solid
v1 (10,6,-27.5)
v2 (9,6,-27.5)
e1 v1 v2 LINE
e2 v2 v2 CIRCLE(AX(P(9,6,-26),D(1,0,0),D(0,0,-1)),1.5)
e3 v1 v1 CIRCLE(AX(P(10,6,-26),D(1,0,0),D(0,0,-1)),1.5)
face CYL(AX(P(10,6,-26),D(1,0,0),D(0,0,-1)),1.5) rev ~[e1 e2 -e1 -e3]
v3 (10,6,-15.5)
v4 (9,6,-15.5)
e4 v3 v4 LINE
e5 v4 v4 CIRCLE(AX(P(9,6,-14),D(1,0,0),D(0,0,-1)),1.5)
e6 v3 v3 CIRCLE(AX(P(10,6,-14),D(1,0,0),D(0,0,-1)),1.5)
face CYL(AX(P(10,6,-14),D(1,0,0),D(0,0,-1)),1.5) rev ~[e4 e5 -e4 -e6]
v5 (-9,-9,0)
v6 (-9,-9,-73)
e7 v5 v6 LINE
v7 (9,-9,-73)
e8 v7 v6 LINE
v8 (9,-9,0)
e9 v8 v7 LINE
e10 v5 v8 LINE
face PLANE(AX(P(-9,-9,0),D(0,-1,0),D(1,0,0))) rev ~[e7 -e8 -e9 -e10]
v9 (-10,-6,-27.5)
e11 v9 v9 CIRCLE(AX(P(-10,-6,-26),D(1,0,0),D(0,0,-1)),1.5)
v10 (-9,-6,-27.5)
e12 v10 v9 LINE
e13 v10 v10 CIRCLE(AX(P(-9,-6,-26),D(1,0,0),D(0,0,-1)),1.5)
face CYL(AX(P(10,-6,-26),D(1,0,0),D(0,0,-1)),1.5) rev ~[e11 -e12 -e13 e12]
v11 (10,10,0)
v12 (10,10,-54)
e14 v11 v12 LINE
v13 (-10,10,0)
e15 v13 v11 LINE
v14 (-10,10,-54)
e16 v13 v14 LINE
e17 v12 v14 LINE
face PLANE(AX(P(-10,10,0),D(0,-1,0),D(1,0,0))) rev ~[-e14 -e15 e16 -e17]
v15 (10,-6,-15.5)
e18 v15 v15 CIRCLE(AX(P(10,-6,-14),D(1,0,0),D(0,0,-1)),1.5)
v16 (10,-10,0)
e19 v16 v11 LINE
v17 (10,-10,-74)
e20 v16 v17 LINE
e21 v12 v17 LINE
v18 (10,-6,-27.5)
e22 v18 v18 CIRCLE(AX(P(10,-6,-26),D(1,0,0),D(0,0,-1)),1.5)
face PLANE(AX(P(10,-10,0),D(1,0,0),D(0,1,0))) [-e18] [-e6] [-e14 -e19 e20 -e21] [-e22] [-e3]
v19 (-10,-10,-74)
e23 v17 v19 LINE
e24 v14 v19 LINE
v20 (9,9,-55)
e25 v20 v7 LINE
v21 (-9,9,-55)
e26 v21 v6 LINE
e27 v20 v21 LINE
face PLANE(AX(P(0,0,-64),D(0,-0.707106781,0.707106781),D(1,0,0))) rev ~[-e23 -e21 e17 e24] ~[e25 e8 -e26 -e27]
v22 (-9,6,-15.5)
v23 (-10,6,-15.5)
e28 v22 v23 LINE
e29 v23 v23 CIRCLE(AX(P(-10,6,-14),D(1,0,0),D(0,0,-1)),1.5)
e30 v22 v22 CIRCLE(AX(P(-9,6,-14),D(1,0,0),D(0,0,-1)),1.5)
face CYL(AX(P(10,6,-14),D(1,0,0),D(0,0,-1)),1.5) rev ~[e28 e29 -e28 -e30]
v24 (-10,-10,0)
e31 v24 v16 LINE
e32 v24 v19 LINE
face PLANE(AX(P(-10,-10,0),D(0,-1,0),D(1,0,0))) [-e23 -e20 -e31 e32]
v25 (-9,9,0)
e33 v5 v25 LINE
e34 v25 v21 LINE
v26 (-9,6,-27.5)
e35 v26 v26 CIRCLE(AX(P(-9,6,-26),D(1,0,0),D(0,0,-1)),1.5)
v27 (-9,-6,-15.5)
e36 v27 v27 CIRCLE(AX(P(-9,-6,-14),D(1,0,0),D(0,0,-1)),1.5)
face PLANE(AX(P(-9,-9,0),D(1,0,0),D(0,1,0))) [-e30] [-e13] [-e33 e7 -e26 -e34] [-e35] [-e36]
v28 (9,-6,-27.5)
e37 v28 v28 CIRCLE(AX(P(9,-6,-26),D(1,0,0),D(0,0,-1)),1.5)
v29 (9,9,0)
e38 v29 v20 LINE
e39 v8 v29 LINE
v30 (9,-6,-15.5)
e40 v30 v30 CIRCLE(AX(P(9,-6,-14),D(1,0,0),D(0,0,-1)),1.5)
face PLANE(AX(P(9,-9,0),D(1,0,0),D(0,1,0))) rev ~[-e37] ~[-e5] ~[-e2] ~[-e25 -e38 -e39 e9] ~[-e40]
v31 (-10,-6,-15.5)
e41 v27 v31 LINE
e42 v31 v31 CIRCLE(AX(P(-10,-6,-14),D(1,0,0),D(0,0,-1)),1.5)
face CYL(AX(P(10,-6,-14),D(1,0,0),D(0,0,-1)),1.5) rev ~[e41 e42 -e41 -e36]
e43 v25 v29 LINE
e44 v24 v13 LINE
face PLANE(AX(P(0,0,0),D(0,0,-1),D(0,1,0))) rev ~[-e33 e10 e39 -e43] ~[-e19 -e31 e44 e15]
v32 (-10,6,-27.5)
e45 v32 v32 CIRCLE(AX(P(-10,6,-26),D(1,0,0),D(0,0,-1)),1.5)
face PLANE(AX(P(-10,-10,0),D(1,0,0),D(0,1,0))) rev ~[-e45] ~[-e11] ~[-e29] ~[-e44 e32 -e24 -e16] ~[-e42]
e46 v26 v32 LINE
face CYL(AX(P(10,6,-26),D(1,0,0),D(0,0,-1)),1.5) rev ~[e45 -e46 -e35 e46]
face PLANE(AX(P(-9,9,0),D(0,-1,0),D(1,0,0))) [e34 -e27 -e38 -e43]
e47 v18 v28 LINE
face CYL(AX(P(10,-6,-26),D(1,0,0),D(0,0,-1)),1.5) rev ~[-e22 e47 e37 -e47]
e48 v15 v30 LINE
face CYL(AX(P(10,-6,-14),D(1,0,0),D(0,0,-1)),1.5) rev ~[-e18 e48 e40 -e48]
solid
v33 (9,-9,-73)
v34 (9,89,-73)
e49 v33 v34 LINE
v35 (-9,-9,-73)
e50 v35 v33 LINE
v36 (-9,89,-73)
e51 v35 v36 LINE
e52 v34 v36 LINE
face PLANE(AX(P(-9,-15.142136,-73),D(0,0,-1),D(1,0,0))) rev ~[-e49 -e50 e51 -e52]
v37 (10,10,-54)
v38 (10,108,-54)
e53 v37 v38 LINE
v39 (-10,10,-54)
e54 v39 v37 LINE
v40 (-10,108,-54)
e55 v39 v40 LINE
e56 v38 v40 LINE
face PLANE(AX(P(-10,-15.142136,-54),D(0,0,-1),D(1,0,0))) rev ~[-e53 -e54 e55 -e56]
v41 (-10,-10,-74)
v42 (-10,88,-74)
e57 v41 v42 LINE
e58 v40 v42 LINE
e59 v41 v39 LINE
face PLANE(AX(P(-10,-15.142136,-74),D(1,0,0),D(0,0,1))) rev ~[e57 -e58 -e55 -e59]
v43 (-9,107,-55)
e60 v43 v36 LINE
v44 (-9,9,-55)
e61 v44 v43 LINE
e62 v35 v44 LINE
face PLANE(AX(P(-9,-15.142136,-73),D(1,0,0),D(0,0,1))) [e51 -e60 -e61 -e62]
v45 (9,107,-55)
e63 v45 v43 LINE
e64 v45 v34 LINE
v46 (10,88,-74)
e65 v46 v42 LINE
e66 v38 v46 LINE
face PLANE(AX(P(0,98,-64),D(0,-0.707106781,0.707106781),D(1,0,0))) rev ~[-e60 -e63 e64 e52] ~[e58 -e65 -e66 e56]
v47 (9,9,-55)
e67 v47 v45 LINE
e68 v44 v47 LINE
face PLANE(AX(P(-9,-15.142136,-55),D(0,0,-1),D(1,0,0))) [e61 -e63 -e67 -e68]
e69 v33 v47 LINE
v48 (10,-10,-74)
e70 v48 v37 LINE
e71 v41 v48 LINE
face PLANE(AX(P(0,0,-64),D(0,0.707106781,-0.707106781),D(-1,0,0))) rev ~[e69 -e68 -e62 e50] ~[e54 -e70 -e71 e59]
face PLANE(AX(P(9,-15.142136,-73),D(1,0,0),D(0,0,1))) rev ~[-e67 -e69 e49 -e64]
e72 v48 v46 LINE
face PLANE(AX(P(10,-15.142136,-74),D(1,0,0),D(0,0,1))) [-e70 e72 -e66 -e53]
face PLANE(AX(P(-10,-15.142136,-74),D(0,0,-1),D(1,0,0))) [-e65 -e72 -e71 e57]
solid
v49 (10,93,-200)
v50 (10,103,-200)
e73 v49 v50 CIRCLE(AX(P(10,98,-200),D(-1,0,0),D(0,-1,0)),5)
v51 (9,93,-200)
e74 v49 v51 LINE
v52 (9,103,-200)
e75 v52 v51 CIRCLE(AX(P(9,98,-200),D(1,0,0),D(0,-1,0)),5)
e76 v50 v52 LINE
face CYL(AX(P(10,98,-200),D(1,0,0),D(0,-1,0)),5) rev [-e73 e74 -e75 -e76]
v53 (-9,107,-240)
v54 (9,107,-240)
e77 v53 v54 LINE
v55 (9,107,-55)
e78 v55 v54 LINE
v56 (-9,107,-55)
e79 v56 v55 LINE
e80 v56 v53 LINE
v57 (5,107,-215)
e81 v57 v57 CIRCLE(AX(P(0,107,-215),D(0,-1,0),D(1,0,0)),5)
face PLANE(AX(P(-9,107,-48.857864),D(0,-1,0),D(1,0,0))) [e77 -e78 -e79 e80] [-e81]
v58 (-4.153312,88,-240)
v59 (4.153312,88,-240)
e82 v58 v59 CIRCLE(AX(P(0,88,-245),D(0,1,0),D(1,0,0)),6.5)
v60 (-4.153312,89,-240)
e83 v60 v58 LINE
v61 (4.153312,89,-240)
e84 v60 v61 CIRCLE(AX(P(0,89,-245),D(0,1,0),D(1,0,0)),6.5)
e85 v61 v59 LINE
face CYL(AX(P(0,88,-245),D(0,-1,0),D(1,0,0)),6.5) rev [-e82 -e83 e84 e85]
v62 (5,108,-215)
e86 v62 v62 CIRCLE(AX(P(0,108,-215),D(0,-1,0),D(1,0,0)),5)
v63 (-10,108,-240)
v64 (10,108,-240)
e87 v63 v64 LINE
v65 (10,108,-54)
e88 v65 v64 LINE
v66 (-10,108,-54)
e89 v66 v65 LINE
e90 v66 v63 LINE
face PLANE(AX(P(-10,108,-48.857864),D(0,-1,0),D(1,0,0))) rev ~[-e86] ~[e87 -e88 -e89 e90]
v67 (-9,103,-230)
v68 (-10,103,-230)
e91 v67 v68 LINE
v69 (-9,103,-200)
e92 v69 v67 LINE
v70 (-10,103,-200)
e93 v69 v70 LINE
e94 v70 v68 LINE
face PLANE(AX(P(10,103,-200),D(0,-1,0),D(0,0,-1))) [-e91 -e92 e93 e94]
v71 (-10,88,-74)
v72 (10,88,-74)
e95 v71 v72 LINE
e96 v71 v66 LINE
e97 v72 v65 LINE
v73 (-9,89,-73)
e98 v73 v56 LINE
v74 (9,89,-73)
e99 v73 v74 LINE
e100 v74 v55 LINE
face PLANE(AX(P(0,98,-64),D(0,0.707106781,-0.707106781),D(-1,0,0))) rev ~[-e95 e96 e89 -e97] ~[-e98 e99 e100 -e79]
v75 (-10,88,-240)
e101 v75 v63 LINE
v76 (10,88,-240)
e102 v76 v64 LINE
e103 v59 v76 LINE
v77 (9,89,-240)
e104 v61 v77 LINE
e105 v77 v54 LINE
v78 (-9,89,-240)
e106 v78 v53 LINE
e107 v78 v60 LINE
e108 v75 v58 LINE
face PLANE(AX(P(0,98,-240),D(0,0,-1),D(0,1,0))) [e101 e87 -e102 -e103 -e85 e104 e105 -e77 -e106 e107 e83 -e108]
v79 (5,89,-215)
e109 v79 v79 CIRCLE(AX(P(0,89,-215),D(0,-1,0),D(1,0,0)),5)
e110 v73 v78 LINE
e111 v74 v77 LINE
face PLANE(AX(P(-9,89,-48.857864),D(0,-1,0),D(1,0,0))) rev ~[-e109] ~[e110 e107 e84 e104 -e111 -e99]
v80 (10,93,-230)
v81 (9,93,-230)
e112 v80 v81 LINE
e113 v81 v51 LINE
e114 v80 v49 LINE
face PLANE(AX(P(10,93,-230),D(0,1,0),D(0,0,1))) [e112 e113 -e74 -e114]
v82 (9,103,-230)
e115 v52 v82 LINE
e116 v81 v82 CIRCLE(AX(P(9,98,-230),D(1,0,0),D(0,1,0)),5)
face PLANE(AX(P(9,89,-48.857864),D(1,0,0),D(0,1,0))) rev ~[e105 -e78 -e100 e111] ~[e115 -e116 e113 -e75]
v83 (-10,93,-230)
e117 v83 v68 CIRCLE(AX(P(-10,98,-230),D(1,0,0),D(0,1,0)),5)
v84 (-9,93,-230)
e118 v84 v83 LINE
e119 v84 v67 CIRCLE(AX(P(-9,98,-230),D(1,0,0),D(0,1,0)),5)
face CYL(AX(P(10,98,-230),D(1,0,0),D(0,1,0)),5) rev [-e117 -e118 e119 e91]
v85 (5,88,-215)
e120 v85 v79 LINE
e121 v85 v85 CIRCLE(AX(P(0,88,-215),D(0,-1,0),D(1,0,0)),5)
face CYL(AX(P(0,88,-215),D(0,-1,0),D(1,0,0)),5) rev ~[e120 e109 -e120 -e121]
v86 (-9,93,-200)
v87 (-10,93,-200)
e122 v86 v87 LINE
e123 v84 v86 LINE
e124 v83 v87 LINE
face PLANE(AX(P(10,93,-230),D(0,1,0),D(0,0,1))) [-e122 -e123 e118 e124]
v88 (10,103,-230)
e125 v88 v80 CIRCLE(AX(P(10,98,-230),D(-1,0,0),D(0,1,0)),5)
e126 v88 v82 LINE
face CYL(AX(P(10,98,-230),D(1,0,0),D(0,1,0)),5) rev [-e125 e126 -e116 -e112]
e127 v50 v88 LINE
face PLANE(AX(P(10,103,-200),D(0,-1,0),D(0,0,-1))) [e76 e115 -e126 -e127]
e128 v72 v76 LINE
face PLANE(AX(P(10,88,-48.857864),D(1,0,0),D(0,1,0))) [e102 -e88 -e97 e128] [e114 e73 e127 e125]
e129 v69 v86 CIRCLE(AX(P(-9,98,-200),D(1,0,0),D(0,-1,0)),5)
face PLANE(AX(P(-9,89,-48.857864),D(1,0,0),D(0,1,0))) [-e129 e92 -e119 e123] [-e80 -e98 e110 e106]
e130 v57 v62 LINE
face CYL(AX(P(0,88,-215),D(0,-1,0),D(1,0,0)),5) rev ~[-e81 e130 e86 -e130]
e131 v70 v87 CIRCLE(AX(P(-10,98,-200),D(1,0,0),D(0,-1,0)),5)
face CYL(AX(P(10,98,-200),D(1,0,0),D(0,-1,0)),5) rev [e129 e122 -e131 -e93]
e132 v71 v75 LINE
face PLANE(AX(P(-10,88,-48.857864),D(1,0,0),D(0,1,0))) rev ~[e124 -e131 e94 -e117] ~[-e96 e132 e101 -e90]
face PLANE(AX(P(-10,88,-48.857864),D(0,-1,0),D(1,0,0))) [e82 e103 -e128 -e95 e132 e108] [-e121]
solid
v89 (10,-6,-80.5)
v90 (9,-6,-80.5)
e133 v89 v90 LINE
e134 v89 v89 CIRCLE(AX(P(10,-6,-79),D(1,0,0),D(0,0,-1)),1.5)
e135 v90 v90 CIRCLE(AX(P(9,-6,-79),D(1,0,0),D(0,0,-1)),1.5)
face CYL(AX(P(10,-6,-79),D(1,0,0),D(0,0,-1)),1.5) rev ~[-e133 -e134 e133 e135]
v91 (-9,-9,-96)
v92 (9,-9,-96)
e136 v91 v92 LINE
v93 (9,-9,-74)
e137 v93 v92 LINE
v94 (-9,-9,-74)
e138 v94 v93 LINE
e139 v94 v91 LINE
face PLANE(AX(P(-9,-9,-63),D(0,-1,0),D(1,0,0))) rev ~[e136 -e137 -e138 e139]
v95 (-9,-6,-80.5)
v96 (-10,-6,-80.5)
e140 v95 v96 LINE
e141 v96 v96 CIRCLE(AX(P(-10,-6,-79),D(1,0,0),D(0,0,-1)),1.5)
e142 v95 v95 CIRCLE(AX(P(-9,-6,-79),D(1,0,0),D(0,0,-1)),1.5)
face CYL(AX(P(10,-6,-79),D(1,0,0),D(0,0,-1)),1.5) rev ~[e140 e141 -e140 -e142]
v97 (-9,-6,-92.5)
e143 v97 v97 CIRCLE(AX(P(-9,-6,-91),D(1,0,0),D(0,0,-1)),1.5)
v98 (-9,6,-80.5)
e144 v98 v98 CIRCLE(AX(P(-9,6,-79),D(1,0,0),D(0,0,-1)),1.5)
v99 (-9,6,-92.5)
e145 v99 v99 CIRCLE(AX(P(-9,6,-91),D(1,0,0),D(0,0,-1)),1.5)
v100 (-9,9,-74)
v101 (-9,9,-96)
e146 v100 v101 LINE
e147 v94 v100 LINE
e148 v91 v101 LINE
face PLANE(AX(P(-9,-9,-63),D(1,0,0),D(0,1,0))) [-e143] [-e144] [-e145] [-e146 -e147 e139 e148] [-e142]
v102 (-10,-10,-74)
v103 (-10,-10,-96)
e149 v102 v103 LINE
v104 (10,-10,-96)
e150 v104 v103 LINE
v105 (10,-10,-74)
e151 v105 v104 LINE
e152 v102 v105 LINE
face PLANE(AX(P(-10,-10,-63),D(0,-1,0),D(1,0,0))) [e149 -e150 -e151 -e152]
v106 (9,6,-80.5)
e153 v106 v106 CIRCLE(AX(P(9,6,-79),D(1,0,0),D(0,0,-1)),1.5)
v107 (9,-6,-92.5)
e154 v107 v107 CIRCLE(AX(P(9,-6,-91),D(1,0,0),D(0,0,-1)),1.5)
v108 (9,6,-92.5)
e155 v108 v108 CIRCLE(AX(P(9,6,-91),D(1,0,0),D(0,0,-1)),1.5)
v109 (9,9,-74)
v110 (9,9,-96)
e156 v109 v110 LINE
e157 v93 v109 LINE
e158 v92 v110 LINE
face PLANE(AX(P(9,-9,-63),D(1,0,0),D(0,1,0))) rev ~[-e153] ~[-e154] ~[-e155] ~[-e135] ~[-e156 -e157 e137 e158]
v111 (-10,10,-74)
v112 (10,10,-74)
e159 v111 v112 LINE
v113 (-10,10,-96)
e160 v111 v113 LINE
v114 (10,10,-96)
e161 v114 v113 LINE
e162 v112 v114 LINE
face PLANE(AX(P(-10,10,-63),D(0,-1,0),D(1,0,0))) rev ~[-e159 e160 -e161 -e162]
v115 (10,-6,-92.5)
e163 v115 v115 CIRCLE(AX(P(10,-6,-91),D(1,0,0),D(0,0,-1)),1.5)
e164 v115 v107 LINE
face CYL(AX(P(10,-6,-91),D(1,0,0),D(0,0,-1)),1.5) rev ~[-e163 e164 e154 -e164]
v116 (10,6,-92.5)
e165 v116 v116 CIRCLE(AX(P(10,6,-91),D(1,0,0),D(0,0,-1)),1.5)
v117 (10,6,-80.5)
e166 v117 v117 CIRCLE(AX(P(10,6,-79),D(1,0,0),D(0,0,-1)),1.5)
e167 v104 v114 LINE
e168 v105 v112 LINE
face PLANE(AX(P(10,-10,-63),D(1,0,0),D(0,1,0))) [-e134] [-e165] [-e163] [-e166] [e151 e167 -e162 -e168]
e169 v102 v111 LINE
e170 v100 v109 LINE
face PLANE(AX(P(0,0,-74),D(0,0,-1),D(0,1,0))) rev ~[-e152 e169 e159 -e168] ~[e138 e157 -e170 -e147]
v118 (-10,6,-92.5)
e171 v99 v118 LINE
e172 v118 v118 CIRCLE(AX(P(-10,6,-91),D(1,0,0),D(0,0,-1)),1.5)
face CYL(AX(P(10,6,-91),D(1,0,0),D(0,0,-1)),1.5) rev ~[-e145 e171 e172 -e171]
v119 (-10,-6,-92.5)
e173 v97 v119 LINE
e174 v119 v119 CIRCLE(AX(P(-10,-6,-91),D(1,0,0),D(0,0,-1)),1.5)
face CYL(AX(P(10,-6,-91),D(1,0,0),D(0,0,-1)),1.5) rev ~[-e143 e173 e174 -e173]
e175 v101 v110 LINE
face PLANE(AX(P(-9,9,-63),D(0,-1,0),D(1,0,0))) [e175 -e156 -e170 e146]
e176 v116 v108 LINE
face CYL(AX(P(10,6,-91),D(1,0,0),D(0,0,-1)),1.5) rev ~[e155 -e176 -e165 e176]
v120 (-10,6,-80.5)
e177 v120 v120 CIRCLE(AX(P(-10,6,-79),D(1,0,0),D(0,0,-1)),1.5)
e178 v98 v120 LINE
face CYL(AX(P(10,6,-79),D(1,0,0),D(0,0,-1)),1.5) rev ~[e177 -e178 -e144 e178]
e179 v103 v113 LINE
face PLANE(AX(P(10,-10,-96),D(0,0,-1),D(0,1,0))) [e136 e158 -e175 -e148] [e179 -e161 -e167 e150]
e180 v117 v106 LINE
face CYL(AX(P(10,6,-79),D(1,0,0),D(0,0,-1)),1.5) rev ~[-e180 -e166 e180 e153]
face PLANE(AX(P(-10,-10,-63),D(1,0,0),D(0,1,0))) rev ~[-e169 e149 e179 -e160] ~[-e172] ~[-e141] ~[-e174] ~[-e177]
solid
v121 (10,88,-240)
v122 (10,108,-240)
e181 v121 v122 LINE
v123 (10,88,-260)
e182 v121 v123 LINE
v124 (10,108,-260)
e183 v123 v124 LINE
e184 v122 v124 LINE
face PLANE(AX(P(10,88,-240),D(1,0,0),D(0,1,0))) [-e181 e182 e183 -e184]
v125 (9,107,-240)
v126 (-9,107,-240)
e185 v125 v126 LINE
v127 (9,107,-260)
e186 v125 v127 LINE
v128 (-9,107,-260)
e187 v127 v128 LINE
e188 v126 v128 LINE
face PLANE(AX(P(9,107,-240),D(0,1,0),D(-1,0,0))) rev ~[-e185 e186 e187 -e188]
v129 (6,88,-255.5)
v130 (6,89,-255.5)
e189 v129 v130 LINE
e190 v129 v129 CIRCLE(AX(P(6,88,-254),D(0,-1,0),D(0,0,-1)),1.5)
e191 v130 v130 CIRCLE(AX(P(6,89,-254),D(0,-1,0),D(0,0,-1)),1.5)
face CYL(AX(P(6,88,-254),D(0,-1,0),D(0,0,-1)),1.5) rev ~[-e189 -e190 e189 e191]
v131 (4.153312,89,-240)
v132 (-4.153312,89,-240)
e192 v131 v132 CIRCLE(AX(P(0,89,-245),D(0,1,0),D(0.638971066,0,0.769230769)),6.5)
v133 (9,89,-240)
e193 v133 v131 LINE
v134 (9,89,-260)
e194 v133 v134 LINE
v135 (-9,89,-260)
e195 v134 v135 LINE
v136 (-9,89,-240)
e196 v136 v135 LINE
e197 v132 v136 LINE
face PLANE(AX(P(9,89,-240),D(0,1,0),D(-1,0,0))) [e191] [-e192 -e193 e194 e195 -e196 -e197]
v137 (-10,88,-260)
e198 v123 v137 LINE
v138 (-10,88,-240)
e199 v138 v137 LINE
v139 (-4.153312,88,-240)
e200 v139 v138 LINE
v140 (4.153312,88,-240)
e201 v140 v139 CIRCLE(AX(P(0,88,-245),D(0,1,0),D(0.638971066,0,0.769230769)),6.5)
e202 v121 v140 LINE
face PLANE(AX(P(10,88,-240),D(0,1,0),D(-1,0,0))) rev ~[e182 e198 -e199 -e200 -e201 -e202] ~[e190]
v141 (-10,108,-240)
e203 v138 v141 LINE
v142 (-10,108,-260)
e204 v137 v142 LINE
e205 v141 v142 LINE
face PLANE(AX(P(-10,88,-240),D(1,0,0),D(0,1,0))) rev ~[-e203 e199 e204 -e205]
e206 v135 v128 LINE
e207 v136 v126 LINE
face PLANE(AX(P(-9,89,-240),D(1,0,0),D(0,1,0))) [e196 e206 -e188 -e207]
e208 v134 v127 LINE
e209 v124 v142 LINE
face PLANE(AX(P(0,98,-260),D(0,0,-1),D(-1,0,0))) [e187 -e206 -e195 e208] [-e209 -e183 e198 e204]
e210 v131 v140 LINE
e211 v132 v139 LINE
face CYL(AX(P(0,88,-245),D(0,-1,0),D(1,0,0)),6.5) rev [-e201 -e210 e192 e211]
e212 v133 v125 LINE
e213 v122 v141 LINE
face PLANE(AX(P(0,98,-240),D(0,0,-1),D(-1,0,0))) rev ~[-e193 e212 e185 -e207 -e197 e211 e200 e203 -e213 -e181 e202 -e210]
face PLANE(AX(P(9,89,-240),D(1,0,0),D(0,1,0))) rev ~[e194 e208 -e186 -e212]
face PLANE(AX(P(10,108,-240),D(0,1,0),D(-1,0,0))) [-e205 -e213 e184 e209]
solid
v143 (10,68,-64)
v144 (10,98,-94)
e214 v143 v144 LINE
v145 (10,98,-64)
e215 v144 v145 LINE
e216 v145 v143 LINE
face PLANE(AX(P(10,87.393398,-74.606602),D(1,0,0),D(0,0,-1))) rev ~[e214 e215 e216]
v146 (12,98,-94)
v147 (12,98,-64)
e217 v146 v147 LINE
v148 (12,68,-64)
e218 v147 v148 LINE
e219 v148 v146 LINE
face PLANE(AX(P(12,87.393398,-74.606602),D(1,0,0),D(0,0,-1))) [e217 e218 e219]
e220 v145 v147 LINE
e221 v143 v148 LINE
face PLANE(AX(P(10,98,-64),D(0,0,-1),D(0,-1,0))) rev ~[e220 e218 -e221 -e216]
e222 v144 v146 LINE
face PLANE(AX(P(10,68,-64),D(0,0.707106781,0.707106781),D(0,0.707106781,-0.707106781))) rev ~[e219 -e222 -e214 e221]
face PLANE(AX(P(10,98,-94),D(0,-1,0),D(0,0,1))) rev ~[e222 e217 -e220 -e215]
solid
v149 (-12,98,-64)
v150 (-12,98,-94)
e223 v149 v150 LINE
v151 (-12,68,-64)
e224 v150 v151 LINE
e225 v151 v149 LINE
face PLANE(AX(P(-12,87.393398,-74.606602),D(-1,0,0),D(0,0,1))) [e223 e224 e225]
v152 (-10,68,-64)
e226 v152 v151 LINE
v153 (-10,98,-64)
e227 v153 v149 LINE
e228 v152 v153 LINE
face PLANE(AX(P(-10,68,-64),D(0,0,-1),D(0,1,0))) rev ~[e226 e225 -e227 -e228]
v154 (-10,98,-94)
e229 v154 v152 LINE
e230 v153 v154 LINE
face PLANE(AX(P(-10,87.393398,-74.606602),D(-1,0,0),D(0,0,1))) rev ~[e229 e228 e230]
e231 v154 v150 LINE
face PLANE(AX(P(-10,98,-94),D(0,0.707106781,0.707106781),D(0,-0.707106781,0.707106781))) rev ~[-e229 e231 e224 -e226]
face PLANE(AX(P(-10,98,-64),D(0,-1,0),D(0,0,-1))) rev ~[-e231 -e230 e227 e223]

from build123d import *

# Parameters (mm, degrees)
SKETCH_14_W                = 20
SKETCH_14_H                = 20
SKETCH_14_W_2              = 18
SKETCH_14_H_2              = 18
F_20X20X1_1_DEPTH          = 79.142135624
SKETCH_14_ON_SEGMENT_2_W   = 20
SKETCH_14_ON_SEGMENT_2_H   = 20
SKETCH_14_ON_SEGMENT_2_W_2 = 18
SKETCH_14_ON_SEGMENT_2_H_2 = 18
F_20X20X1_1_2_DEPTH        = 128.284271247
SKETCH_14_ON_SEGMENT_3_W   = 20
SKETCH_14_ON_SEGMENT_3_H   = 20
SKETCH_14_ON_SEGMENT_3_W_2 = 18
SKETCH_14_ON_SEGMENT_3_H_2 = 18
F_20X20X1_1_3_DEPTH        = 191.142135624
SKETCH_14_ON_SEGMENT_4_W   = 20
SKETCH_14_ON_SEGMENT_4_H   = 20
SKETCH_14_ON_SEGMENT_4_W_2 = 18
SKETCH_14_ON_SEGMENT_4_H_2 = 18
F_20X20X1_1_4_DEPTH        = 62
SKETCH_12_R                = 1.5
CUT_EXTRUDE_1_DEPTH        = 264.939386981
CUT_EXTRUDE_3_DEPTH        = 264.939386981
CUT_EXTRUDE_4_DEPTH        = 260.43014474
EXTRUDE_1_DEPTH            = 2
EXTRUDE_2_DEPTH            = 2
SKETCH_25_W                = 20
SKETCH_25_H                = 20
SKETCH_25_W_2              = 18
SKETCH_25_H_2              = 18
EXTRUDE_3_DEPTH            = 20
SKETCH_26_R                = 6.5
CUT_EXTRUDE_9_DEPTH        = 1
SKETCH_27_R                = 1.5
CUT_EXTRUDE_10_DEPTH       = 1
SKETCH_17_R                = 1.5
CUT_EXTRUDE_11_DEPTH       = 283.396883835
SKETCH_28_W                = 29
SKETCH_28_H                = 20
CUT_EXTRUDE_12_DEPTH       = 283.396883835


with BuildPart() as part:
    # 草图14 → 铝管 20X20X1(1) (new body)
    with BuildSketch(Plane.YX):
        Rectangle(SKETCH_14_W, SKETCH_14_H)
        Rectangle(SKETCH_14_W_2, SKETCH_14_H_2, mode=Mode.SUBTRACT)
    extrude(amount=F_20X20X1_1_DEPTH)

    # 铝管 20X20X1(1) mitre 1
    split(bisect_by=Plane(origin=(0, 0, -64), x_dir=(1, 0, 0), z_dir=(0, -0.707106781, 0.707106781)), keep=Keep.TOP)

    # 草图12 → 切除-拉伸1 (cut, through all)
    with BuildSketch(Plane(origin=(10, 0, 0), x_dir=(0, 0, -1), z_dir=(1, 0, 0))):
        with Locations((14, 6)):
            Circle(SKETCH_12_R)
        with Locations((14, -6)):
            Circle(SKETCH_12_R)
        with Locations((26, -6)):
            Circle(SKETCH_12_R)
        with Locations((26, 6)):
            Circle(SKETCH_12_R)
    extrude(amount=-CUT_EXTRUDE_1_DEPTH, mode=Mode.SUBTRACT)


with BuildPart() as body_2:
    # 草图14 on segment 2 (carried to segment 2) → 20X20X1_1 2 (new body)
    with BuildSketch(Plane(origin=(0, -15.142135624, -64), x_dir=(0, 0, 1), z_dir=(0, 1, 0))):
        Rectangle(SKETCH_14_ON_SEGMENT_2_W, SKETCH_14_ON_SEGMENT_2_H)
        Rectangle(SKETCH_14_ON_SEGMENT_2_W_2, SKETCH_14_ON_SEGMENT_2_H_2, mode=Mode.SUBTRACT)
    extrude(amount=F_20X20X1_1_2_DEPTH)

    # 20X20X1_1 2 mitre 1
    split(bisect_by=Plane(origin=(0, 0, -64), x_dir=(-1, 0, 0), z_dir=(0, 0.707106781, -0.707106781)), keep=Keep.TOP)

    # 20X20X1_1 2 mitre 2
    split(bisect_by=Plane(origin=(0, 98, -64), x_dir=(1, 0, 0), z_dir=(0, -0.707106781, 0.707106781)), keep=Keep.TOP)


with BuildPart() as body_3:
    # 草图14 on segment 3 (carried to segment 3) → 20X20X1_1 3 (new body)
    with BuildSketch(Plane(origin=(0, 98, -48.857864376), x_dir=(0, 1, 0), z_dir=(0, 0, -1))):
        Rectangle(SKETCH_14_ON_SEGMENT_3_W, SKETCH_14_ON_SEGMENT_3_H)
        Rectangle(SKETCH_14_ON_SEGMENT_3_W_2, SKETCH_14_ON_SEGMENT_3_H_2, mode=Mode.SUBTRACT)
    extrude(amount=F_20X20X1_1_3_DEPTH)

    # 20X20X1_1 3 mitre 1
    split(bisect_by=Plane(origin=(0, 98, -64), x_dir=(-1, 0, 0), z_dir=(0, 0.707106781, -0.707106781)), keep=Keep.TOP)

    # 草图15 → 切除-拉伸3 (cut, through all)
    with BuildSketch(Plane(origin=(10, 0, 0), x_dir=(0, 0, -1), z_dir=(1, 0, 0))):
        with BuildLine():
            Line((200, 103), (230, 103))
            ThreePointArc((230, 103), (235, 98), (230, 93))
            Line((230, 93), (200, 93))
            ThreePointArc((200, 93), (195, 98), (200, 103))
        make_face()
    extrude(amount=-CUT_EXTRUDE_3_DEPTH, mode=Mode.SUBTRACT)

    # 草图16 → 切除-拉伸4 (cut, through all)
    with BuildSketch(Plane.XZ.offset(-88)):
        with BuildLine():
            ThreePointArc((-5, -215), (0, -220), (5, -215))
            Line((5, -215), (-5, -215))
        make_face()
        with BuildLine():
            Line((-5, -215), (5, -215))
            ThreePointArc((5, -215), (0, -210), (-5, -215))
        make_face()
    extrude(amount=-CUT_EXTRUDE_4_DEPTH, mode=Mode.SUBTRACT)


with BuildPart() as body_4:
    # 草图14 on segment 4 (carried to segment 4) → 20X20X1_1 4 (new body)
    with BuildSketch(Plane.YX.offset(63)):
        Rectangle(SKETCH_14_ON_SEGMENT_4_W, SKETCH_14_ON_SEGMENT_4_H)
        Rectangle(SKETCH_14_ON_SEGMENT_4_W_2, SKETCH_14_ON_SEGMENT_4_H_2, mode=Mode.SUBTRACT)
    extrude(amount=F_20X20X1_1_4_DEPTH)

    # 20X20X1_1 4 mitre 1
    split(bisect_by=Plane.YX.offset(74), keep=Keep.TOP)

    # 草图17 → 切除-拉伸11 (cut, through all)
    with BuildSketch(Plane(origin=(10, 0, 0), x_dir=(0, 0, -1), z_dir=(1, 0, 0))):
        with Locations((79, 6)):
            Circle(SKETCH_17_R)
        with Locations((79, -6)):
            Circle(SKETCH_17_R)
        with Locations((91, -6)):
            Circle(SKETCH_17_R)
        with Locations((91, 6)):
            Circle(SKETCH_17_R)
    extrude(amount=-CUT_EXTRUDE_11_DEPTH, mode=Mode.SUBTRACT)

    # 草图28 → 切除-拉伸12 (cut, through all)
    with BuildSketch(Plane(origin=(10, 0, 0), x_dir=(0, 0, -1), z_dir=(1, 0, 0))):
        with Locations((110.5, 0)):
            Rectangle(SKETCH_28_W, SKETCH_28_H)
    extrude(amount=-CUT_EXTRUDE_12_DEPTH, mode=Mode.SUBTRACT)


with BuildPart() as body_5:
    # 草图22 → 凸台-拉伸1 (new body)
    with BuildSketch(Plane(origin=(10, 0, 0), x_dir=(0, 0, -1), z_dir=(1, 0, 0))):
        Polygon((64, 98), (64, 68), (94, 98), align=None)
    extrude(amount=EXTRUDE_1_DEPTH)


with BuildPart() as body_6:
    # 草图23 → 凸台-拉伸2 (new body)
    with BuildSketch(Plane.ZY.offset(10)):
        Polygon((-64, 98), (-94, 98), (-64, 68), align=None)
    extrude(amount=EXTRUDE_2_DEPTH)


with BuildPart() as body_7:
    # 草图25 → 凸台-拉伸3 (new body)
    with BuildSketch(Plane(origin=(0, 0, -240), x_dir=(-1, 0, 0), z_dir=(0, 0, -1))):
        with Locations((0, 98)):
            Rectangle(SKETCH_25_W, SKETCH_25_H)
        with Locations((0, 98)):
            Rectangle(SKETCH_25_W_2, SKETCH_25_H_2, mode=Mode.SUBTRACT)
    extrude(amount=EXTRUDE_3_DEPTH)


with BuildPart() as cut_extrude_9_tool:
    # 草图26 → 切除-拉伸9 (new body)
    with BuildSketch(Plane(origin=(0, 88, 0), x_dir=(1, 0, 0), z_dir=(0, 1, 0))):
        with Locations((0, 245)):
            Circle(SKETCH_26_R)
    extrude(amount=CUT_EXTRUDE_9_DEPTH)


with BuildPart() as body_3_1:
    add(body_3.part)

    # 切除-拉伸9: cut by cut_extrude_9_tool
    add(cut_extrude_9_tool.part, mode=Mode.SUBTRACT)


with BuildPart() as body_7_1:
    add(body_7.part)

    # 切除-拉伸9: cut by cut_extrude_9_tool
    add(cut_extrude_9_tool.part, mode=Mode.SUBTRACT)

    # 草图27 → 切除-拉伸10 (cut)
    with BuildSketch(Plane.XZ.offset(-88)):
        with Locations(Location((6, -254, 0), (0, 0, 270))):
            Circle(SKETCH_27_R)
    extrude(amount=-CUT_EXTRUDE_10_DEPTH, mode=Mode.SUBTRACT)


solid = Compound([part.part, body_2.part, body_4.part, body_5.part, body_6.part, body_3_1.part, body_7_1.part])
